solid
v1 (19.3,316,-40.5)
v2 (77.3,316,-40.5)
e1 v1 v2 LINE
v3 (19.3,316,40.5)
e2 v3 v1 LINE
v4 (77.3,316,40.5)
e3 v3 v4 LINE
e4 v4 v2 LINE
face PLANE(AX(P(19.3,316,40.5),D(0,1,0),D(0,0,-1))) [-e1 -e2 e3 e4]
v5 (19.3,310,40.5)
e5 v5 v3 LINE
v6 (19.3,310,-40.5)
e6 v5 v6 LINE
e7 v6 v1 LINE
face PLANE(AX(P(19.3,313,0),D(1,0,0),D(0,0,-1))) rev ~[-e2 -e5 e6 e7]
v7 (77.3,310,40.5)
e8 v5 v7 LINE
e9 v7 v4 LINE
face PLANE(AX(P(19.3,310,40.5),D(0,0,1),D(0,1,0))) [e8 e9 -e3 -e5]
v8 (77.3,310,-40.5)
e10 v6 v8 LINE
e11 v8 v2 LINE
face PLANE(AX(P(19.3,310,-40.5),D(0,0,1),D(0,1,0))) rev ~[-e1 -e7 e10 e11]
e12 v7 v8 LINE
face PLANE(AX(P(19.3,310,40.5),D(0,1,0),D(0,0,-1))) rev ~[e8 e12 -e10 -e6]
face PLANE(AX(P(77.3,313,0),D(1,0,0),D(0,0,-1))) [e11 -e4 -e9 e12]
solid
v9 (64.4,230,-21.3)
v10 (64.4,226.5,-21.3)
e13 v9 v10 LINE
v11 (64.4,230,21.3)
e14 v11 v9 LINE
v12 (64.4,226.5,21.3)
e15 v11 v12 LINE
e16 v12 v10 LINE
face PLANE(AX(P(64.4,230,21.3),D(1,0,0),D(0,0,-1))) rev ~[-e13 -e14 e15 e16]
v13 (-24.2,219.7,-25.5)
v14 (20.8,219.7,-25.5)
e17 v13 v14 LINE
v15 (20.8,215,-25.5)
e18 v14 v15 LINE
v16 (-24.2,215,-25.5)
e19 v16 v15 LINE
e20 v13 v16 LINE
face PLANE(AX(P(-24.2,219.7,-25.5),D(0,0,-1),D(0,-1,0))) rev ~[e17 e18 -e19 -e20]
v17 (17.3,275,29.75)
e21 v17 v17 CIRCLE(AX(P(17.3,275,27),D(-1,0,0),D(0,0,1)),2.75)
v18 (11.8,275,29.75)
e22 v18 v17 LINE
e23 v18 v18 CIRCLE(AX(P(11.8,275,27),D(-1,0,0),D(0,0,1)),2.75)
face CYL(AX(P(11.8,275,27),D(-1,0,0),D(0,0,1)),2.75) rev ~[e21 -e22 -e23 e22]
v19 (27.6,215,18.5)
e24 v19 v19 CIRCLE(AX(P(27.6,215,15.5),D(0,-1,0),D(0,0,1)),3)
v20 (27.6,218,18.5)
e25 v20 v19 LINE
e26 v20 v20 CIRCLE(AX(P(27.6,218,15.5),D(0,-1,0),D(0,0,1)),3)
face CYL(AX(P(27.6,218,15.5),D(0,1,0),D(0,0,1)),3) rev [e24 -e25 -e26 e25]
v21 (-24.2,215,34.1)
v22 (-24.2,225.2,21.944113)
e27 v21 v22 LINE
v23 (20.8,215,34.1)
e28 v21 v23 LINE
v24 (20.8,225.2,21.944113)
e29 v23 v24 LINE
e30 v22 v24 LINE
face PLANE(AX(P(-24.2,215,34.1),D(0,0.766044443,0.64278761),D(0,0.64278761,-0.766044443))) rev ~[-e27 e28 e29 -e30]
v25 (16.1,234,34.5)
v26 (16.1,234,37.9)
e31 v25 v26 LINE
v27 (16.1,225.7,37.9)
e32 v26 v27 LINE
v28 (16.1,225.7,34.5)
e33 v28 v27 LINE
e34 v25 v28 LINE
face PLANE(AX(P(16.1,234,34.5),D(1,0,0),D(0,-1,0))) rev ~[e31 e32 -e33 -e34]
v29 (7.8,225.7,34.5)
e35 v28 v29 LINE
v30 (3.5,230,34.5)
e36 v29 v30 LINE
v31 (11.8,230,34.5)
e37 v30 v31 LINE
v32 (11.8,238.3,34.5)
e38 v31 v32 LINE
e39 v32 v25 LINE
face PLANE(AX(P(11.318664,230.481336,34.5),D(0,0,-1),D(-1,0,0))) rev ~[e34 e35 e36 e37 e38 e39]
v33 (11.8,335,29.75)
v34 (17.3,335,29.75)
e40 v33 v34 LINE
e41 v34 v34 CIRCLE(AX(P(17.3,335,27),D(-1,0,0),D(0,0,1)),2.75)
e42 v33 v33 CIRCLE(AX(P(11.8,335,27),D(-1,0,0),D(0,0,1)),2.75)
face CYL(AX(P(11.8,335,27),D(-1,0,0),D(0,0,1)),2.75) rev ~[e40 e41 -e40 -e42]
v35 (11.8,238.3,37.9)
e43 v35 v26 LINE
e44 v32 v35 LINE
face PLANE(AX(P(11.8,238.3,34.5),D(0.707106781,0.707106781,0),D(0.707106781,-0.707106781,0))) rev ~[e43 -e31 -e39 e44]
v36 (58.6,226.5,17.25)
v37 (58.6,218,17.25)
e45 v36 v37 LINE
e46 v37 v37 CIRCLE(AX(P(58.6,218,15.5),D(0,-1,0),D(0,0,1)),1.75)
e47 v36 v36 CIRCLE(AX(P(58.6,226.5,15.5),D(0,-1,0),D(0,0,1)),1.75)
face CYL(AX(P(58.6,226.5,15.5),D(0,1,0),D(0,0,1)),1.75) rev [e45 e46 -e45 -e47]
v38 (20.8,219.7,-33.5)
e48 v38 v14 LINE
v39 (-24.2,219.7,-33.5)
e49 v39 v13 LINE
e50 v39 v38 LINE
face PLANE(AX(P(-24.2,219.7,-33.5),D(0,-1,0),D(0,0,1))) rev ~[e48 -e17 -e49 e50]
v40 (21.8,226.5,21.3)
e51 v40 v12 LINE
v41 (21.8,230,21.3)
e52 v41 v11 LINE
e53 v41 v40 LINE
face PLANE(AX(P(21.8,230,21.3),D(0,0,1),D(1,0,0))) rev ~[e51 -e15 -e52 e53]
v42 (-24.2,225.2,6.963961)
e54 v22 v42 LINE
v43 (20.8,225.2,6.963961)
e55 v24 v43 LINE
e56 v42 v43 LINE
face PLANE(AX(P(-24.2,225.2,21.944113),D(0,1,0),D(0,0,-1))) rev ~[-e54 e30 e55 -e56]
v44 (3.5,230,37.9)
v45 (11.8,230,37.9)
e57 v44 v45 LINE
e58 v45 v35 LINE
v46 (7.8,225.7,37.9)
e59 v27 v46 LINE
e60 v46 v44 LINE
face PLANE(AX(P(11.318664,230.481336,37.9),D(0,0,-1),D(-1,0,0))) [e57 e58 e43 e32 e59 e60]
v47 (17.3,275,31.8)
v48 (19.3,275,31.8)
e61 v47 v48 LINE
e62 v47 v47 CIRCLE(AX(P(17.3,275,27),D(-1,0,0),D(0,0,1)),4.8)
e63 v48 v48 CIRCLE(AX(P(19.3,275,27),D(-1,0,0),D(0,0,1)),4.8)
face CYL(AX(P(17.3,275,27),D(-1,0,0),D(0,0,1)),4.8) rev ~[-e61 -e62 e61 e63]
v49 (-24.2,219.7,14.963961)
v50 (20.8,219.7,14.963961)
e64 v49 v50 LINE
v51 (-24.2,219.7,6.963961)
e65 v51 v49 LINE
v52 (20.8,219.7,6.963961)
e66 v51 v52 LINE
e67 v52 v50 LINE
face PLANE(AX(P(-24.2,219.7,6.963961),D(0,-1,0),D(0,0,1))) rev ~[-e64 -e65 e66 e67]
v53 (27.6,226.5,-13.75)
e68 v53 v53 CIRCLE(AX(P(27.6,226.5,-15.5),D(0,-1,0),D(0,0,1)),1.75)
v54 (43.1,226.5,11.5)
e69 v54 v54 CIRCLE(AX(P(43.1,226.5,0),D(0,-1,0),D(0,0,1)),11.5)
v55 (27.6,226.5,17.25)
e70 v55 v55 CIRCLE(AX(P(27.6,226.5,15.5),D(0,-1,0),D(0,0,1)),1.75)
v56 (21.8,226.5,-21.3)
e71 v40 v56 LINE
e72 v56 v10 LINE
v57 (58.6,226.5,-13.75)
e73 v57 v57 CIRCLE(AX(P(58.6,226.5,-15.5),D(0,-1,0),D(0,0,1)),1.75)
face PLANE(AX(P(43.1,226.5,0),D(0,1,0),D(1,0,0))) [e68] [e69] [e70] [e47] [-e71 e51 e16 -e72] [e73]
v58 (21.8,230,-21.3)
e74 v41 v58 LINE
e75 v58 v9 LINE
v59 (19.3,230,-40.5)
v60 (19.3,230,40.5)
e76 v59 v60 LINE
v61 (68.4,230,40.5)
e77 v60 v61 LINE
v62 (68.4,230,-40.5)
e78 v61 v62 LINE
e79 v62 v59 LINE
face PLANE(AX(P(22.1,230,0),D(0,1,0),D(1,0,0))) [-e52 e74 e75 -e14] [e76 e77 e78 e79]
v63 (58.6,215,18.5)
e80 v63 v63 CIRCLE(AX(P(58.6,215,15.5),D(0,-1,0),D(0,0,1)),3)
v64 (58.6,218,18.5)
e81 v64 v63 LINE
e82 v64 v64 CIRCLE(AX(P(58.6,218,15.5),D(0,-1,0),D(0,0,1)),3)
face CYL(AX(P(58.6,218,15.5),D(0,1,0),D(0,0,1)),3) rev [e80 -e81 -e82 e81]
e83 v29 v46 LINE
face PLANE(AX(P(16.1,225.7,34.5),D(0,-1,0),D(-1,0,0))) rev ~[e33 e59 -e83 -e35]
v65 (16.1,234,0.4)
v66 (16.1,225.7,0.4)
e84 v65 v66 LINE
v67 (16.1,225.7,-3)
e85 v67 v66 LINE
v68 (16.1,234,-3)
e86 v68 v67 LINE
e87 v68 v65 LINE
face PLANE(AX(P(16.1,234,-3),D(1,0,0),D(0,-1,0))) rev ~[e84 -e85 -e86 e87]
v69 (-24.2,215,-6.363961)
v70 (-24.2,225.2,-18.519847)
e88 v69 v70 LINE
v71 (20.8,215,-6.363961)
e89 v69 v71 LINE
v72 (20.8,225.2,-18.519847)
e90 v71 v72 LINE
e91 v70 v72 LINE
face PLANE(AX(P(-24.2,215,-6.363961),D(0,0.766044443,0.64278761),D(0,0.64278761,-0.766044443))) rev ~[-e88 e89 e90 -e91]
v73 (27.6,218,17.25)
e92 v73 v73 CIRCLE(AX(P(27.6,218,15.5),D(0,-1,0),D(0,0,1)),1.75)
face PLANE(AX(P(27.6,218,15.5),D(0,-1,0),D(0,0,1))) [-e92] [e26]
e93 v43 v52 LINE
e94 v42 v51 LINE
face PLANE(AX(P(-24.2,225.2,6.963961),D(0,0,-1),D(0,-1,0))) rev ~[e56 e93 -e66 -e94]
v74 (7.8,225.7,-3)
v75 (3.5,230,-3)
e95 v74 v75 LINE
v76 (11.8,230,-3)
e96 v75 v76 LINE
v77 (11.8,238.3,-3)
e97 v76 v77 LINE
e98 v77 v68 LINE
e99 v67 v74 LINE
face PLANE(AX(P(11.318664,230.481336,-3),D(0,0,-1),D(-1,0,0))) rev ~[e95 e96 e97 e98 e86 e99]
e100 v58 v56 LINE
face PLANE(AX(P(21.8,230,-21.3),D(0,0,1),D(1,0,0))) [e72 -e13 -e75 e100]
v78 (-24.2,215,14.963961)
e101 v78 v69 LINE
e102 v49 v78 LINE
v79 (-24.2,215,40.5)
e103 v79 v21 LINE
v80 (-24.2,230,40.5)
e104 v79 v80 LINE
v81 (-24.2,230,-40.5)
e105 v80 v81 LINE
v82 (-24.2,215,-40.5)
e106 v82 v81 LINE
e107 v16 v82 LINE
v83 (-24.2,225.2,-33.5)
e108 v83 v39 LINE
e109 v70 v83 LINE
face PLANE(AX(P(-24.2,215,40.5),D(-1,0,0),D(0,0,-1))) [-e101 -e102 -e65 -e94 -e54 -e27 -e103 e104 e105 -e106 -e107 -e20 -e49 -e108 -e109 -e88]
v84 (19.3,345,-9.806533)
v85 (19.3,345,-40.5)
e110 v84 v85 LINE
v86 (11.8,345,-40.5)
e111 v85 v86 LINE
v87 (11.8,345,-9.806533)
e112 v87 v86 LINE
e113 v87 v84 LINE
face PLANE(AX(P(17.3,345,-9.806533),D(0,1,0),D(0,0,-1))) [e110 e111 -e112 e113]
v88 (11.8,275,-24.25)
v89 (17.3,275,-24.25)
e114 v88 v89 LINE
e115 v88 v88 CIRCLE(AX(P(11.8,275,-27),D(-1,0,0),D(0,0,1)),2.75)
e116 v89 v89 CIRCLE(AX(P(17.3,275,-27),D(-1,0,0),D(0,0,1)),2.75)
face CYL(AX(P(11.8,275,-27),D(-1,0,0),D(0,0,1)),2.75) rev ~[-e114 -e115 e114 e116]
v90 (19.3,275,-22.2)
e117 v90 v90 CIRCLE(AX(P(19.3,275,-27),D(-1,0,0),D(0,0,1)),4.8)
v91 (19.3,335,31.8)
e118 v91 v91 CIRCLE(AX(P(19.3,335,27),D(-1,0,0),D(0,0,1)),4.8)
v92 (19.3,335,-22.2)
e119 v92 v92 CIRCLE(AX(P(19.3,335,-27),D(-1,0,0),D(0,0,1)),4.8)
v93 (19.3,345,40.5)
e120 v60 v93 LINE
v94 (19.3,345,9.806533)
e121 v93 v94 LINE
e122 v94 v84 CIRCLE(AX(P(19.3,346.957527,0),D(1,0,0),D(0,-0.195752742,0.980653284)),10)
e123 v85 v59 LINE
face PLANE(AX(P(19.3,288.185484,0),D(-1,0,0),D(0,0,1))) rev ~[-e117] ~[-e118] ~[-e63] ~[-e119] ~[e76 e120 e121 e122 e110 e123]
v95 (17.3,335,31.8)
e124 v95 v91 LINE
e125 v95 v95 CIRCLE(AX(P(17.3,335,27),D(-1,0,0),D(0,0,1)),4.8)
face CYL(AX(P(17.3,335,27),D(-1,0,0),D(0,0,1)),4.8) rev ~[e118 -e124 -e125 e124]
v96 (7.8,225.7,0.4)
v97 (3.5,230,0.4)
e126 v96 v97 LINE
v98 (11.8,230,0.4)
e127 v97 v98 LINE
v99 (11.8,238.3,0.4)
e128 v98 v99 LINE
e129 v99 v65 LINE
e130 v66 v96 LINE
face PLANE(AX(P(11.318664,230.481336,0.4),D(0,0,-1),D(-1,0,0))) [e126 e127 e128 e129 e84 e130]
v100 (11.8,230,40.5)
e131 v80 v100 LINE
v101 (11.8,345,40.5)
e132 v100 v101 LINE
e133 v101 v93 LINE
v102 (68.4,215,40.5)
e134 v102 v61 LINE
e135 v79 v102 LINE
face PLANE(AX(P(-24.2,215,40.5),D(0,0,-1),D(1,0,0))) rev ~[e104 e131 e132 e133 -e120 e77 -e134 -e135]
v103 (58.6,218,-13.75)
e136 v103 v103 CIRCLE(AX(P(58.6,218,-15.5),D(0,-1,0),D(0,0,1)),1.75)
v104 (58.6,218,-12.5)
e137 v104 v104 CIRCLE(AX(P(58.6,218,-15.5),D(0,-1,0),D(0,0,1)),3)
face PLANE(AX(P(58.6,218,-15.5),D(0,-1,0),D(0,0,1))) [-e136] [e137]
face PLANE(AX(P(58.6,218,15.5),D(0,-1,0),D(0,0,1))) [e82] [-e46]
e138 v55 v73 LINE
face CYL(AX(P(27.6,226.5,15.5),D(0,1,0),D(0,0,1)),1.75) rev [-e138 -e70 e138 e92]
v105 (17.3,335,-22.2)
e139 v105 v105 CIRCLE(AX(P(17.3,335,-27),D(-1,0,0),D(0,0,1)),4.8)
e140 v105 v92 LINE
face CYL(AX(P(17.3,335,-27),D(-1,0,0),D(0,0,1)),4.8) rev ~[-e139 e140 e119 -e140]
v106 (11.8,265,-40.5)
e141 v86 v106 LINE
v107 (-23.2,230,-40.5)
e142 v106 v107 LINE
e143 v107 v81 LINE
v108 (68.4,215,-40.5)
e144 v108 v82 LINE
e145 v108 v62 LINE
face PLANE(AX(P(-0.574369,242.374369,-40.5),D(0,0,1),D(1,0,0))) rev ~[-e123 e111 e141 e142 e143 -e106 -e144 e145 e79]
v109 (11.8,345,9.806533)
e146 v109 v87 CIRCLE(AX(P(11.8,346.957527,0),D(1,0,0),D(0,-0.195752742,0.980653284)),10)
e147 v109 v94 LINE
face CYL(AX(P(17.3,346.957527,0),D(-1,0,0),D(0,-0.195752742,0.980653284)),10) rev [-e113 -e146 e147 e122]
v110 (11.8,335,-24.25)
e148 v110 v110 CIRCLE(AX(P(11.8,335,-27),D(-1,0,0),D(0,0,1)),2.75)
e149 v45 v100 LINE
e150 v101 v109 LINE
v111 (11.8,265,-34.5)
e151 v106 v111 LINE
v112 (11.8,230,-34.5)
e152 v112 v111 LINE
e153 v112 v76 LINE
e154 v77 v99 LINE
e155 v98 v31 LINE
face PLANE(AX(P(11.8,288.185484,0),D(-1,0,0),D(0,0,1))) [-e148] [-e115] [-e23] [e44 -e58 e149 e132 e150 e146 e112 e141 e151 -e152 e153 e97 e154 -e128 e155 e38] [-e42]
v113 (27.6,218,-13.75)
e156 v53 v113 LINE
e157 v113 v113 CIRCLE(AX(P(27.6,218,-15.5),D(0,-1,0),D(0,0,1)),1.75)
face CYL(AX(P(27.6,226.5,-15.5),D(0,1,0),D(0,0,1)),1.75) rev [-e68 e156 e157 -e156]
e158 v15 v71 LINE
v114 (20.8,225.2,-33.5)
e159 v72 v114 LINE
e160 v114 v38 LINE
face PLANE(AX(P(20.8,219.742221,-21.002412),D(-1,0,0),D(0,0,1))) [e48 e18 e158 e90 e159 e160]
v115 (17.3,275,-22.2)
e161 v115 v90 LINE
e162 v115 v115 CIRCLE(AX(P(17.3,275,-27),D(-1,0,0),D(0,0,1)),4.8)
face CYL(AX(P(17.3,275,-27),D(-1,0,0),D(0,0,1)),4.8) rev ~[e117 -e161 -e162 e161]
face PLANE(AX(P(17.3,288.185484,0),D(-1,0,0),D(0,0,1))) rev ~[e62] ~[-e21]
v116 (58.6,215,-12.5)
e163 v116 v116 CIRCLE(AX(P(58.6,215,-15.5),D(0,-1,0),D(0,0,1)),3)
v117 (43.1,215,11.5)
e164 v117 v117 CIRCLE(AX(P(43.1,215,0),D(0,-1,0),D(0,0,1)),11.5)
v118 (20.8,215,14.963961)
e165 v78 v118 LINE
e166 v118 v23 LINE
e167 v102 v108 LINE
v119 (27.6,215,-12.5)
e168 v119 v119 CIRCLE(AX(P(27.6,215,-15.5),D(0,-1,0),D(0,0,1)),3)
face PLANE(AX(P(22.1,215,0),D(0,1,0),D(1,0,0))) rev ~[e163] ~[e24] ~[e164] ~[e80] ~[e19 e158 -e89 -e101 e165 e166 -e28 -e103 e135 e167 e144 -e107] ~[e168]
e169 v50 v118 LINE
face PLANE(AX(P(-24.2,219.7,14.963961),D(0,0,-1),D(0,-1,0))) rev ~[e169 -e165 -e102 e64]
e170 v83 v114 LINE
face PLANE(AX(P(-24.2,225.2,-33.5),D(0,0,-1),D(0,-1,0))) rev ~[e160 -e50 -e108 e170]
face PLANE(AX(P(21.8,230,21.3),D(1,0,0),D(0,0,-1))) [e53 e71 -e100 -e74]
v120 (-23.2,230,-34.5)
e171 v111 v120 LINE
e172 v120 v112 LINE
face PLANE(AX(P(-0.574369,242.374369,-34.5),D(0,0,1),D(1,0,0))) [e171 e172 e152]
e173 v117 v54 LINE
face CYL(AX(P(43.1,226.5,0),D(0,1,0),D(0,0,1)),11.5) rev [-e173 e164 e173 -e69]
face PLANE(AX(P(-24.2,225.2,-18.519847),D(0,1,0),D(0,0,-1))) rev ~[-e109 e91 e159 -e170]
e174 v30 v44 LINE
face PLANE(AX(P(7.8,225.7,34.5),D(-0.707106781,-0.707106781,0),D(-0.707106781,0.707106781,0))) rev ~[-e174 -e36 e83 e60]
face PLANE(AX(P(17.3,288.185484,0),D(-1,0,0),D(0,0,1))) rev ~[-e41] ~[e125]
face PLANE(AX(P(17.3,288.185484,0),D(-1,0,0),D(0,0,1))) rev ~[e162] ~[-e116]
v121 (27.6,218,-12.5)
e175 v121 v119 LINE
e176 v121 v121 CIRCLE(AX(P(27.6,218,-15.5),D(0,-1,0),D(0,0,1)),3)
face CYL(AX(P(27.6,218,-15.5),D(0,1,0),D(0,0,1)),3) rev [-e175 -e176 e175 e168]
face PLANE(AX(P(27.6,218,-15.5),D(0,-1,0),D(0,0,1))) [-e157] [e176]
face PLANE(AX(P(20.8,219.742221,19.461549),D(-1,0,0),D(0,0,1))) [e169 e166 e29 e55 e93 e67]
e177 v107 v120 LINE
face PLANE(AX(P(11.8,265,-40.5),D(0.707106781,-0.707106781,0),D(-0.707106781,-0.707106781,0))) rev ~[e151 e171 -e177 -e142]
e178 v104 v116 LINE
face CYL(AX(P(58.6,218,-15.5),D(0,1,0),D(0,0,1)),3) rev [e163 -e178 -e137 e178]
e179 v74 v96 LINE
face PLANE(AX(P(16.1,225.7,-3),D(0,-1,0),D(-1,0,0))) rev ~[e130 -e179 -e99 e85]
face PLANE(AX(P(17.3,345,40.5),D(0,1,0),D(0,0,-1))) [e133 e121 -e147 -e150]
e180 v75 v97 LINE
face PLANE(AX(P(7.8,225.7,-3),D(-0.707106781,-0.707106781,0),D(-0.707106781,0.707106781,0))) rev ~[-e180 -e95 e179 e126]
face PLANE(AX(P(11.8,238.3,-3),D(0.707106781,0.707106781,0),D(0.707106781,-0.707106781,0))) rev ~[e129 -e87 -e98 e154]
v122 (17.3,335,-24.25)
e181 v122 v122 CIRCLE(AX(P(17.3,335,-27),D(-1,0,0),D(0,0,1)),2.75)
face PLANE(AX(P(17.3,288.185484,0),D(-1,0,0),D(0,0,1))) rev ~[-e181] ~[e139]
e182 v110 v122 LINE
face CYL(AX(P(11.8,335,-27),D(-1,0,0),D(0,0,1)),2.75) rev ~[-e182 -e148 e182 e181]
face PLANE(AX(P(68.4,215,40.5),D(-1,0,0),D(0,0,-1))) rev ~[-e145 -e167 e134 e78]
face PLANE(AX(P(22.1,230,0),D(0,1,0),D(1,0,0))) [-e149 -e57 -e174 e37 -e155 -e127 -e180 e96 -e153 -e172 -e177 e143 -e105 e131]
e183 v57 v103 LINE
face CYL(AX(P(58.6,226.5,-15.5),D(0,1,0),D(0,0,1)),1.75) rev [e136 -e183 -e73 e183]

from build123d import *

# Parameters (mm, degrees)
SKETCH1_W               = 56.4
SKETCH1_H               = 67
SKETCH1_W_2             = 46.4
SKETCH1_H_2             = 55
BOSS_EXTRUDE1_DEPTH     = 14
SKETCH4_W               = 12
SKETCH4_H               = 12
BOSS_EXTRUDE2_DEPTH     = 200
SKETCH16_W              = 4.6
SKETCH16_H              = 14
BOSS_EXTRUDE11_DEPTH    = 43
SKETCH5_W               = 5
SKETCH5_H               = 67
BOSS_EXTRUDE3_DEPTH     = 14
BOSS_EXTRUDE4_REACH     = 216.011
SKETCH2_R               = 2.75
CUT_EXTRUDE1_DEPTH      = 5
SKETCH3_R               = 2.75
CUT_EXTRUDE2_DEPTH      = 210.198972273
SKETCH7_R               = 2.75
CUT_EXTRUDE3_DEPTH      = 217.851100989
SKETCH8_W               = 8
SKETCH8_H               = 14
BOSS_EXTRUDE5_DEPTH     = 1
SKETCH9_W               = 92.6
SKETCH9_H               = 81
SKETCH9_W_2             = 6.786539707
BOSS_EXTRUDE6_DEPTH     = 15
SKETCH10_W              = 42.6
SKETCH10_H              = 42.6
CUT_EXTRUDE4_DEPTH      = 3.5
SKETCH11_R              = 1.75
SKETCH11_R_2            = 11.5
CUT_EXTRUDE5_DEPTH      = 11.5
CUT_EXTRUDE6_START      = 8.5
SKETCH11_5_R            = 3
SKETCH11_5_R_2          = 1.75
SKETCH11_5_R_3          = 11.5
CUT_EXTRUDE6_DEPTH      = 3
SKETCH13_R              = 2.75
BOSS_EXTRUDE7_DEPTH     = 5.5
BOSS_EXTRUDE10_START    = -5.5
SKETCH13_3_R            = 4.8
BOSS_EXTRUDE10_DEPTH    = 2
SKETCH15_W              = 81
SKETCH15_H              = 6
BOSS_EXTRUDE9_DEPTH     = 58
SKETCH17_W              = 159.404685439
SKETCH17_H              = 222.014649432
CUT_EXTRUDE7_DEPTH      = 362.894321591
CUT_EXTRUDE7_DEPTH_BACK = 362.894321591
CUT_EXTRUDE8_DEPTH      = 45
BOSS_EXTRUDE13_DEPTH    = 6
CUT_EXTRUDE9_START      = -6
CUT_EXTRUDE9_DEPTH      = 3.4
CUT_EXTRUDE10_START     = -43.5
CUT_EXTRUDE10_DEPTH     = 3.4


with BuildPart() as part:
    # Sketch1 → Boss-Extrude1 (new body)
    with BuildSketch(Plane(origin=(0, 0, 0), x_dir=(1, 0, 0), z_dir=(0, 1, 0))):
        Rectangle(SKETCH1_W, SKETCH1_H)
        Rectangle(SKETCH1_W_2, SKETCH1_H_2, mode=Mode.SUBTRACT)
    extrude(amount=BOSS_EXTRUDE1_DEPTH)

    # Sketch4 → Boss-Extrude2 (add)
    with BuildSketch(Plane(origin=(0, 0, 0), x_dir=(1, 0, 0), z_dir=(0, 1, 0))):
        with Locations((-34.2, -27.5)):
            Rectangle(SKETCH4_W, SKETCH4_H)
        with Locations((-34.2, 27.5)):
            Rectangle(SKETCH4_W, SKETCH4_H)
    extrude(amount=BOSS_EXTRUDE2_DEPTH)

    # Sketch16 → Boss-Extrude11 (add)
    with BuildSketch(Plane.XY.offset(-21.5)):
        with Locations((-30.5, 7)):
            Rectangle(SKETCH16_W, SKETCH16_H)
    extrude(amount=BOSS_EXTRUDE11_DEPTH)

    # Sketch5 → Boss-Extrude3 (add)
    with BuildSketch(Plane(origin=(0, 200, 0), x_dir=(1, 0, 0), z_dir=(0, 1, 0))):
        with Locations((-25.7, 0)):
            Rectangle(SKETCH5_W, SKETCH5_H)
    extrude(amount=-BOSS_EXTRUDE3_DEPTH)

    # Boss-Extrude4: up to this face of the body (flat: up to its plane)
    boss_extrude4_end = Plane(part.part.faces().sort_by_distance((-28.2, 100, 27.5))[0])
    # Sketch6 → Boss-Extrude4 (add, up to the picked face)
    with BuildSketch(Plane.ZY.offset(40.2), mode=Mode.PRIVATE) as boss_extrude4_sk1:
        Polygon((21.5, 157.410301507), (-21.5, 186), (-21.5, 171.589698493), (21.5, 143), align=None)
    boss_extrude4_tool1 = split(extrude(boss_extrude4_sk1.sketch, amount=-BOSS_EXTRUDE4_REACH, mode=Mode.PRIVATE), bisect_by=boss_extrude4_end, keep=Keep.BOTH, mode=Mode.PRIVATE)
    # Sketch6 → Boss-Extrude4 (add, up to the picked face)
    with BuildSketch(Plane.ZY.offset(40.2), mode=Mode.PRIVATE) as boss_extrude4_sk2:
        Polygon((21.5, 128.589698493), (21.5, 143), (-21.5, 114.410301507), (-21.5, 100), align=None)
    boss_extrude4_tool2 = split(extrude(boss_extrude4_sk2.sketch, amount=-BOSS_EXTRUDE4_REACH, mode=Mode.PRIVATE), bisect_by=boss_extrude4_end, keep=Keep.BOTH, mode=Mode.PRIVATE)
    # Sketch6 → Boss-Extrude4 (add, up to the picked face)
    with BuildSketch(Plane.ZY.offset(40.2), mode=Mode.PRIVATE) as boss_extrude4_sk3:
        Polygon((21.5, 71.410301507), (-21.5, 100), (-21.5, 85.589698493), (21.5, 57), align=None)
    boss_extrude4_tool3 = split(extrude(boss_extrude4_sk3.sketch, amount=-BOSS_EXTRUDE4_REACH, mode=Mode.PRIVATE), bisect_by=boss_extrude4_end, keep=Keep.BOTH, mode=Mode.PRIVATE)
    # Sketch6 → Boss-Extrude4 (add, up to the picked face)
    with BuildSketch(Plane.ZY.offset(40.2), mode=Mode.PRIVATE) as boss_extrude4_sk4:
        Polygon((21.5, 42.589698493), (21.5, 57), (-21.5, 28.410301507), (-21.5, 14), align=None)
    boss_extrude4_tool4 = split(extrude(boss_extrude4_sk4.sketch, amount=-BOSS_EXTRUDE4_REACH, mode=Mode.PRIVATE), bisect_by=boss_extrude4_end, keep=Keep.BOTH, mode=Mode.PRIVATE)
    add(boss_extrude4_tool1.solids().sort_by(Axis((-40.2, 164.5, 0), (1, 0, 0)))[0])
    add(boss_extrude4_tool2.solids().sort_by(Axis((-40.2, 121.5, 0), (1, 0, 0)))[0])
    add(boss_extrude4_tool3.solids().sort_by(Axis((-40.2, 78.5, 0), (1, 0, 0)))[0])
    add(boss_extrude4_tool4.solids().sort_by(Axis((-40.2, 35.5, 0), (1, 0, 0)))[0])

    # Sketch2 → Cut-Extrude1 (cut)
    with BuildSketch(Plane(origin=(28.2, 0, 0), x_dir=(0, 0, -1), z_dir=(1, 0, 0))):
        with Locations((-20.75, 7)):
            Circle(SKETCH2_R)
        with Locations((20.75, 7)):
            Circle(SKETCH2_R)
    extrude(amount=-CUT_EXTRUDE1_DEPTH, mode=Mode.SUBTRACT)

    # Sketch3 → Cut-Extrude2 (cut, through all)
    with BuildSketch(Plane(origin=(-23.2, 0, 0), x_dir=(0, 0, -1), z_dir=(1, 0, 0))):
        with Locations((15.85, 7)):
            Circle(SKETCH3_R)
        with Locations((-15.85, 7)):
            Circle(SKETCH3_R)
    extrude(amount=-CUT_EXTRUDE2_DEPTH, mode=Mode.SUBTRACT)

    # Sketch7 → Cut-Extrude3 (cut, through all)
    with BuildSketch(Plane(origin=(-23.2, 0, -32.7), x_dir=(0, 0, -1), z_dir=(1, 0, 0))):
        with Locations((-16.85, 193)):
            Circle(SKETCH7_R)
        with Locations((-48.55, 193)):
            Circle(SKETCH7_R)
    extrude(amount=-CUT_EXTRUDE3_DEPTH, mode=Mode.SUBTRACT)

    # Sketch8 → Boss-Extrude5 (add)
    with BuildSketch(Plane(origin=(-23.2, 0, 0), x_dir=(0, 0, -1), z_dir=(1, 0, 0))):
        with Locations((-29.5, 193)):
            Rectangle(SKETCH8_W, SKETCH8_H)
        with Locations((29.5, 193)):
            Rectangle(SKETCH8_W, SKETCH8_H)
    extrude(amount=BOSS_EXTRUDE5_DEPTH)

    # Sketch17 → Cut-Extrude7 (cut, two sides)
    with BuildSketch(Plane.ZY.offset(24.2)) as cut_extrude7_sk:
        with Locations((0.680677332, 96.663888991)):
            Rectangle(SKETCH17_W, SKETCH17_H)
    extrude(amount=CUT_EXTRUDE7_DEPTH, mode=Mode.SUBTRACT)
    extrude(cut_extrude7_sk.sketch, amount=-CUT_EXTRUDE7_DEPTH_BACK, mode=Mode.SUBTRACT)


with BuildPart() as body_2:
    # Sketch9 → Boss-Extrude6 (new body)
    with BuildSketch(Plane(origin=(0, 215, 0), x_dir=(1, 0, 0), z_dir=(0, 1, 0))):
        with Locations((22.1, 0)):
            Rectangle(SKETCH9_W, SKETCH9_H)
        with Locations((-18.806730147, 0)):
            Rectangle(SKETCH9_W_2, SKETCH9_H)
    extrude(amount=BOSS_EXTRUDE6_DEPTH)

    # Sketch10 → Cut-Extrude4 (cut)
    with BuildSketch(Plane(origin=(0, 230, 0), x_dir=(1, 0, 0), z_dir=(0, 1, 0))):
        with Locations((43.1, 0)):
            Rectangle(SKETCH10_W, SKETCH10_H)
    extrude(amount=-CUT_EXTRUDE4_DEPTH, mode=Mode.SUBTRACT)

    # Sketch11 → Cut-Extrude5 (cut)
    with BuildSketch(Plane(origin=(0, 226.5, -221.5), x_dir=(1, 0, 0), z_dir=(0, -1, 0))):
        with Locations(Location((58.6, 237, 0), (0, 0, 90))):
            Circle(SKETCH11_R)
        with Locations(Location((27.6, 237, 0), (0, 0, 90))):
            Circle(SKETCH11_R)
        with Locations(Location((27.6, 206, 0), (0, 0, 90))):
            Circle(SKETCH11_R)
        with Locations(Location((58.6, 206, 0), (0, 0, 90))):
            Circle(SKETCH11_R)
        with Locations(Location((43.1, 221.5, 0), (0, 0, 90))):
            Circle(SKETCH11_R_2)
    extrude(amount=CUT_EXTRUDE5_DEPTH, mode=Mode.SUBTRACT)

    # Sketch11<5> → Cut-Extrude6 (cut)
    with BuildSketch(Plane(origin=(0, 226.5, -221.5), x_dir=(1, 0, 0), z_dir=(0, -1, 0)).offset(CUT_EXTRUDE6_START)):
        with Locations(Location((27.6, 237, 0), (0, 0, 90))):
            Circle(SKETCH11_5_R)
        with Locations(Location((27.6, 237, 0), (0, 0, 90))):
            Circle(SKETCH11_5_R_2, mode=Mode.SUBTRACT)
        with Locations(Location((58.6, 237, 0), (0, 0, 90))):
            Circle(SKETCH11_5_R)
        with Locations(Location((58.6, 237, 0), (0, 0, 90))):
            Circle(SKETCH11_5_R_2, mode=Mode.SUBTRACT)
        with Locations(Location((58.6, 206, 0), (0, 0, 90))):
            Circle(SKETCH11_5_R)
        with Locations(Location((58.6, 206, 0), (0, 0, 90))):
            Circle(SKETCH11_5_R_2, mode=Mode.SUBTRACT)
        with Locations(Location((27.6, 206, 0), (0, 0, 90))):
            Circle(SKETCH11_5_R)
        with Locations(Location((27.6, 206, 0), (0, 0, 90))):
            Circle(SKETCH11_5_R_2, mode=Mode.SUBTRACT)
        with Locations(Location((43.1, 221.5, 0), (0, 0, 90))):
            Circle(SKETCH11_5_R_3)
    extrude(amount=CUT_EXTRUDE6_DEPTH, mode=Mode.SUBTRACT)

    # Sketch18 → Cut-Extrude8 (cut)
    with BuildSketch(Plane.ZY.offset(24.2)):
        Polygon((-18.519847466, 225.2), (-33.5, 225.2), (-33.5, 219.7), (-25.5, 219.7), (-25.5, 215), (-6.363960821, 215), align=None)
        Polygon((14.963960821, 219.7), (14.963960821, 215), (34.1, 215), (21.944113356, 225.2), (6.963960821, 225.2), (6.963960821, 219.7), align=None)
    extrude(amount=-CUT_EXTRUDE8_DEPTH, mode=Mode.SUBTRACT)



with BuildPart() as body_3:
    # Sketch13 → Boss-Extrude7 (new body)
    with BuildSketch(Plane.ZY.offset(-11.8)):
        with BuildLine():
            Line((-9.806532844, 345), (-40.5, 345))
            Line((-40.5, 345), (-40.5, 230))
            Line((-40.5, 230), (40.5, 230))
            Line((40.5, 230), (40.5, 345))
            Line((40.5, 345), (9.806532844, 345))
            ThreePointArc((9.806532844, 345), (0, 336.957527416), (-9.806532844, 345))
        make_face()
        with Locations((-27, 275)):
            Circle(SKETCH13_R, mode=Mode.SUBTRACT)
        with Locations((27, 335)):
            Circle(SKETCH13_R, mode=Mode.SUBTRACT)
        with Locations((27, 275)):
            Circle(SKETCH13_R, mode=Mode.SUBTRACT)
        with Locations((-27, 335)):
            Circle(SKETCH13_R, mode=Mode.SUBTRACT)
    extrude(amount=-BOSS_EXTRUDE7_DEPTH)

    # Sketch13<3> → Boss-Extrude10 (add)
    with BuildSketch(Plane.ZY.offset(-11.8).offset(BOSS_EXTRUDE10_START)):
        with BuildLine():
            Line((-9.806532844, 345), (-40.5, 345))
            Line((-40.5, 345), (-40.5, 230))
            Line((-40.5, 230), (40.5, 230))
            Line((40.5, 230), (40.5, 345))
            Line((40.5, 345), (9.806532844, 345))
            ThreePointArc((9.806532844, 345), (0, 336.957527416), (-9.806532844, 345))
        make_face()
        with Locations((-27, 275)):
            Circle(SKETCH13_3_R, mode=Mode.SUBTRACT)
        with Locations((27, 275)):
            Circle(SKETCH13_3_R, mode=Mode.SUBTRACT)
        with Locations((-27, 335)):
            Circle(SKETCH13_3_R, mode=Mode.SUBTRACT)
        with Locations((27, 335)):
            Circle(SKETCH13_3_R, mode=Mode.SUBTRACT)
    extrude(amount=-BOSS_EXTRUDE10_DEPTH)


with BuildPart() as body_4:
    # Sketch15 → Boss-Extrude9 (new body)
    with BuildSketch(Plane(origin=(19.3, 0, 0), x_dir=(0, 0, -1), z_dir=(1, 0, 0))):
        with Locations((0, 313)):
            Rectangle(SKETCH15_W, SKETCH15_H)
    extrude(amount=BOSS_EXTRUDE9_DEPTH)


with BuildPart() as body_2_1:
    add(body_2.part)

    add(body_3.part)  # Boss-Extrude13 merges body 3
    # Sketch19 → Boss-Extrude13 (add)
    with BuildSketch(Plane(origin=(0, 0, -40.5), x_dir=(-1, 0, 0), z_dir=(0, 0, -1))):
        Polygon((-11.8, 265), (23.2, 230), (-11.8, 230), align=None)
    extrude(amount=-BOSS_EXTRUDE13_DEPTH)

    # Sketch21 → Cut-Extrude9 (cut)
    with BuildSketch(Plane.XY.offset(40.5).offset(CUT_EXTRUDE9_START)):
        Polygon((11.8, 238.3), (16.1, 234), (16.1, 225.7), (7.8, 225.7), (3.5, 230), (11.8, 230), align=None)
    extrude(amount=CUT_EXTRUDE9_DEPTH, mode=Mode.SUBTRACT)

    # Sketch21<2> → Cut-Extrude10 (cut)
    with BuildSketch(Plane.XY.offset(40.5).offset(CUT_EXTRUDE10_START)):
        Polygon((11.8, 238.3), (16.1, 234), (16.1, 225.7), (7.8, 225.7), (3.5, 230), (11.8, 230), align=None)
    extrude(amount=CUT_EXTRUDE10_DEPTH, mode=Mode.SUBTRACT)


solid = Compound([body_4.part, body_2_1.part])
